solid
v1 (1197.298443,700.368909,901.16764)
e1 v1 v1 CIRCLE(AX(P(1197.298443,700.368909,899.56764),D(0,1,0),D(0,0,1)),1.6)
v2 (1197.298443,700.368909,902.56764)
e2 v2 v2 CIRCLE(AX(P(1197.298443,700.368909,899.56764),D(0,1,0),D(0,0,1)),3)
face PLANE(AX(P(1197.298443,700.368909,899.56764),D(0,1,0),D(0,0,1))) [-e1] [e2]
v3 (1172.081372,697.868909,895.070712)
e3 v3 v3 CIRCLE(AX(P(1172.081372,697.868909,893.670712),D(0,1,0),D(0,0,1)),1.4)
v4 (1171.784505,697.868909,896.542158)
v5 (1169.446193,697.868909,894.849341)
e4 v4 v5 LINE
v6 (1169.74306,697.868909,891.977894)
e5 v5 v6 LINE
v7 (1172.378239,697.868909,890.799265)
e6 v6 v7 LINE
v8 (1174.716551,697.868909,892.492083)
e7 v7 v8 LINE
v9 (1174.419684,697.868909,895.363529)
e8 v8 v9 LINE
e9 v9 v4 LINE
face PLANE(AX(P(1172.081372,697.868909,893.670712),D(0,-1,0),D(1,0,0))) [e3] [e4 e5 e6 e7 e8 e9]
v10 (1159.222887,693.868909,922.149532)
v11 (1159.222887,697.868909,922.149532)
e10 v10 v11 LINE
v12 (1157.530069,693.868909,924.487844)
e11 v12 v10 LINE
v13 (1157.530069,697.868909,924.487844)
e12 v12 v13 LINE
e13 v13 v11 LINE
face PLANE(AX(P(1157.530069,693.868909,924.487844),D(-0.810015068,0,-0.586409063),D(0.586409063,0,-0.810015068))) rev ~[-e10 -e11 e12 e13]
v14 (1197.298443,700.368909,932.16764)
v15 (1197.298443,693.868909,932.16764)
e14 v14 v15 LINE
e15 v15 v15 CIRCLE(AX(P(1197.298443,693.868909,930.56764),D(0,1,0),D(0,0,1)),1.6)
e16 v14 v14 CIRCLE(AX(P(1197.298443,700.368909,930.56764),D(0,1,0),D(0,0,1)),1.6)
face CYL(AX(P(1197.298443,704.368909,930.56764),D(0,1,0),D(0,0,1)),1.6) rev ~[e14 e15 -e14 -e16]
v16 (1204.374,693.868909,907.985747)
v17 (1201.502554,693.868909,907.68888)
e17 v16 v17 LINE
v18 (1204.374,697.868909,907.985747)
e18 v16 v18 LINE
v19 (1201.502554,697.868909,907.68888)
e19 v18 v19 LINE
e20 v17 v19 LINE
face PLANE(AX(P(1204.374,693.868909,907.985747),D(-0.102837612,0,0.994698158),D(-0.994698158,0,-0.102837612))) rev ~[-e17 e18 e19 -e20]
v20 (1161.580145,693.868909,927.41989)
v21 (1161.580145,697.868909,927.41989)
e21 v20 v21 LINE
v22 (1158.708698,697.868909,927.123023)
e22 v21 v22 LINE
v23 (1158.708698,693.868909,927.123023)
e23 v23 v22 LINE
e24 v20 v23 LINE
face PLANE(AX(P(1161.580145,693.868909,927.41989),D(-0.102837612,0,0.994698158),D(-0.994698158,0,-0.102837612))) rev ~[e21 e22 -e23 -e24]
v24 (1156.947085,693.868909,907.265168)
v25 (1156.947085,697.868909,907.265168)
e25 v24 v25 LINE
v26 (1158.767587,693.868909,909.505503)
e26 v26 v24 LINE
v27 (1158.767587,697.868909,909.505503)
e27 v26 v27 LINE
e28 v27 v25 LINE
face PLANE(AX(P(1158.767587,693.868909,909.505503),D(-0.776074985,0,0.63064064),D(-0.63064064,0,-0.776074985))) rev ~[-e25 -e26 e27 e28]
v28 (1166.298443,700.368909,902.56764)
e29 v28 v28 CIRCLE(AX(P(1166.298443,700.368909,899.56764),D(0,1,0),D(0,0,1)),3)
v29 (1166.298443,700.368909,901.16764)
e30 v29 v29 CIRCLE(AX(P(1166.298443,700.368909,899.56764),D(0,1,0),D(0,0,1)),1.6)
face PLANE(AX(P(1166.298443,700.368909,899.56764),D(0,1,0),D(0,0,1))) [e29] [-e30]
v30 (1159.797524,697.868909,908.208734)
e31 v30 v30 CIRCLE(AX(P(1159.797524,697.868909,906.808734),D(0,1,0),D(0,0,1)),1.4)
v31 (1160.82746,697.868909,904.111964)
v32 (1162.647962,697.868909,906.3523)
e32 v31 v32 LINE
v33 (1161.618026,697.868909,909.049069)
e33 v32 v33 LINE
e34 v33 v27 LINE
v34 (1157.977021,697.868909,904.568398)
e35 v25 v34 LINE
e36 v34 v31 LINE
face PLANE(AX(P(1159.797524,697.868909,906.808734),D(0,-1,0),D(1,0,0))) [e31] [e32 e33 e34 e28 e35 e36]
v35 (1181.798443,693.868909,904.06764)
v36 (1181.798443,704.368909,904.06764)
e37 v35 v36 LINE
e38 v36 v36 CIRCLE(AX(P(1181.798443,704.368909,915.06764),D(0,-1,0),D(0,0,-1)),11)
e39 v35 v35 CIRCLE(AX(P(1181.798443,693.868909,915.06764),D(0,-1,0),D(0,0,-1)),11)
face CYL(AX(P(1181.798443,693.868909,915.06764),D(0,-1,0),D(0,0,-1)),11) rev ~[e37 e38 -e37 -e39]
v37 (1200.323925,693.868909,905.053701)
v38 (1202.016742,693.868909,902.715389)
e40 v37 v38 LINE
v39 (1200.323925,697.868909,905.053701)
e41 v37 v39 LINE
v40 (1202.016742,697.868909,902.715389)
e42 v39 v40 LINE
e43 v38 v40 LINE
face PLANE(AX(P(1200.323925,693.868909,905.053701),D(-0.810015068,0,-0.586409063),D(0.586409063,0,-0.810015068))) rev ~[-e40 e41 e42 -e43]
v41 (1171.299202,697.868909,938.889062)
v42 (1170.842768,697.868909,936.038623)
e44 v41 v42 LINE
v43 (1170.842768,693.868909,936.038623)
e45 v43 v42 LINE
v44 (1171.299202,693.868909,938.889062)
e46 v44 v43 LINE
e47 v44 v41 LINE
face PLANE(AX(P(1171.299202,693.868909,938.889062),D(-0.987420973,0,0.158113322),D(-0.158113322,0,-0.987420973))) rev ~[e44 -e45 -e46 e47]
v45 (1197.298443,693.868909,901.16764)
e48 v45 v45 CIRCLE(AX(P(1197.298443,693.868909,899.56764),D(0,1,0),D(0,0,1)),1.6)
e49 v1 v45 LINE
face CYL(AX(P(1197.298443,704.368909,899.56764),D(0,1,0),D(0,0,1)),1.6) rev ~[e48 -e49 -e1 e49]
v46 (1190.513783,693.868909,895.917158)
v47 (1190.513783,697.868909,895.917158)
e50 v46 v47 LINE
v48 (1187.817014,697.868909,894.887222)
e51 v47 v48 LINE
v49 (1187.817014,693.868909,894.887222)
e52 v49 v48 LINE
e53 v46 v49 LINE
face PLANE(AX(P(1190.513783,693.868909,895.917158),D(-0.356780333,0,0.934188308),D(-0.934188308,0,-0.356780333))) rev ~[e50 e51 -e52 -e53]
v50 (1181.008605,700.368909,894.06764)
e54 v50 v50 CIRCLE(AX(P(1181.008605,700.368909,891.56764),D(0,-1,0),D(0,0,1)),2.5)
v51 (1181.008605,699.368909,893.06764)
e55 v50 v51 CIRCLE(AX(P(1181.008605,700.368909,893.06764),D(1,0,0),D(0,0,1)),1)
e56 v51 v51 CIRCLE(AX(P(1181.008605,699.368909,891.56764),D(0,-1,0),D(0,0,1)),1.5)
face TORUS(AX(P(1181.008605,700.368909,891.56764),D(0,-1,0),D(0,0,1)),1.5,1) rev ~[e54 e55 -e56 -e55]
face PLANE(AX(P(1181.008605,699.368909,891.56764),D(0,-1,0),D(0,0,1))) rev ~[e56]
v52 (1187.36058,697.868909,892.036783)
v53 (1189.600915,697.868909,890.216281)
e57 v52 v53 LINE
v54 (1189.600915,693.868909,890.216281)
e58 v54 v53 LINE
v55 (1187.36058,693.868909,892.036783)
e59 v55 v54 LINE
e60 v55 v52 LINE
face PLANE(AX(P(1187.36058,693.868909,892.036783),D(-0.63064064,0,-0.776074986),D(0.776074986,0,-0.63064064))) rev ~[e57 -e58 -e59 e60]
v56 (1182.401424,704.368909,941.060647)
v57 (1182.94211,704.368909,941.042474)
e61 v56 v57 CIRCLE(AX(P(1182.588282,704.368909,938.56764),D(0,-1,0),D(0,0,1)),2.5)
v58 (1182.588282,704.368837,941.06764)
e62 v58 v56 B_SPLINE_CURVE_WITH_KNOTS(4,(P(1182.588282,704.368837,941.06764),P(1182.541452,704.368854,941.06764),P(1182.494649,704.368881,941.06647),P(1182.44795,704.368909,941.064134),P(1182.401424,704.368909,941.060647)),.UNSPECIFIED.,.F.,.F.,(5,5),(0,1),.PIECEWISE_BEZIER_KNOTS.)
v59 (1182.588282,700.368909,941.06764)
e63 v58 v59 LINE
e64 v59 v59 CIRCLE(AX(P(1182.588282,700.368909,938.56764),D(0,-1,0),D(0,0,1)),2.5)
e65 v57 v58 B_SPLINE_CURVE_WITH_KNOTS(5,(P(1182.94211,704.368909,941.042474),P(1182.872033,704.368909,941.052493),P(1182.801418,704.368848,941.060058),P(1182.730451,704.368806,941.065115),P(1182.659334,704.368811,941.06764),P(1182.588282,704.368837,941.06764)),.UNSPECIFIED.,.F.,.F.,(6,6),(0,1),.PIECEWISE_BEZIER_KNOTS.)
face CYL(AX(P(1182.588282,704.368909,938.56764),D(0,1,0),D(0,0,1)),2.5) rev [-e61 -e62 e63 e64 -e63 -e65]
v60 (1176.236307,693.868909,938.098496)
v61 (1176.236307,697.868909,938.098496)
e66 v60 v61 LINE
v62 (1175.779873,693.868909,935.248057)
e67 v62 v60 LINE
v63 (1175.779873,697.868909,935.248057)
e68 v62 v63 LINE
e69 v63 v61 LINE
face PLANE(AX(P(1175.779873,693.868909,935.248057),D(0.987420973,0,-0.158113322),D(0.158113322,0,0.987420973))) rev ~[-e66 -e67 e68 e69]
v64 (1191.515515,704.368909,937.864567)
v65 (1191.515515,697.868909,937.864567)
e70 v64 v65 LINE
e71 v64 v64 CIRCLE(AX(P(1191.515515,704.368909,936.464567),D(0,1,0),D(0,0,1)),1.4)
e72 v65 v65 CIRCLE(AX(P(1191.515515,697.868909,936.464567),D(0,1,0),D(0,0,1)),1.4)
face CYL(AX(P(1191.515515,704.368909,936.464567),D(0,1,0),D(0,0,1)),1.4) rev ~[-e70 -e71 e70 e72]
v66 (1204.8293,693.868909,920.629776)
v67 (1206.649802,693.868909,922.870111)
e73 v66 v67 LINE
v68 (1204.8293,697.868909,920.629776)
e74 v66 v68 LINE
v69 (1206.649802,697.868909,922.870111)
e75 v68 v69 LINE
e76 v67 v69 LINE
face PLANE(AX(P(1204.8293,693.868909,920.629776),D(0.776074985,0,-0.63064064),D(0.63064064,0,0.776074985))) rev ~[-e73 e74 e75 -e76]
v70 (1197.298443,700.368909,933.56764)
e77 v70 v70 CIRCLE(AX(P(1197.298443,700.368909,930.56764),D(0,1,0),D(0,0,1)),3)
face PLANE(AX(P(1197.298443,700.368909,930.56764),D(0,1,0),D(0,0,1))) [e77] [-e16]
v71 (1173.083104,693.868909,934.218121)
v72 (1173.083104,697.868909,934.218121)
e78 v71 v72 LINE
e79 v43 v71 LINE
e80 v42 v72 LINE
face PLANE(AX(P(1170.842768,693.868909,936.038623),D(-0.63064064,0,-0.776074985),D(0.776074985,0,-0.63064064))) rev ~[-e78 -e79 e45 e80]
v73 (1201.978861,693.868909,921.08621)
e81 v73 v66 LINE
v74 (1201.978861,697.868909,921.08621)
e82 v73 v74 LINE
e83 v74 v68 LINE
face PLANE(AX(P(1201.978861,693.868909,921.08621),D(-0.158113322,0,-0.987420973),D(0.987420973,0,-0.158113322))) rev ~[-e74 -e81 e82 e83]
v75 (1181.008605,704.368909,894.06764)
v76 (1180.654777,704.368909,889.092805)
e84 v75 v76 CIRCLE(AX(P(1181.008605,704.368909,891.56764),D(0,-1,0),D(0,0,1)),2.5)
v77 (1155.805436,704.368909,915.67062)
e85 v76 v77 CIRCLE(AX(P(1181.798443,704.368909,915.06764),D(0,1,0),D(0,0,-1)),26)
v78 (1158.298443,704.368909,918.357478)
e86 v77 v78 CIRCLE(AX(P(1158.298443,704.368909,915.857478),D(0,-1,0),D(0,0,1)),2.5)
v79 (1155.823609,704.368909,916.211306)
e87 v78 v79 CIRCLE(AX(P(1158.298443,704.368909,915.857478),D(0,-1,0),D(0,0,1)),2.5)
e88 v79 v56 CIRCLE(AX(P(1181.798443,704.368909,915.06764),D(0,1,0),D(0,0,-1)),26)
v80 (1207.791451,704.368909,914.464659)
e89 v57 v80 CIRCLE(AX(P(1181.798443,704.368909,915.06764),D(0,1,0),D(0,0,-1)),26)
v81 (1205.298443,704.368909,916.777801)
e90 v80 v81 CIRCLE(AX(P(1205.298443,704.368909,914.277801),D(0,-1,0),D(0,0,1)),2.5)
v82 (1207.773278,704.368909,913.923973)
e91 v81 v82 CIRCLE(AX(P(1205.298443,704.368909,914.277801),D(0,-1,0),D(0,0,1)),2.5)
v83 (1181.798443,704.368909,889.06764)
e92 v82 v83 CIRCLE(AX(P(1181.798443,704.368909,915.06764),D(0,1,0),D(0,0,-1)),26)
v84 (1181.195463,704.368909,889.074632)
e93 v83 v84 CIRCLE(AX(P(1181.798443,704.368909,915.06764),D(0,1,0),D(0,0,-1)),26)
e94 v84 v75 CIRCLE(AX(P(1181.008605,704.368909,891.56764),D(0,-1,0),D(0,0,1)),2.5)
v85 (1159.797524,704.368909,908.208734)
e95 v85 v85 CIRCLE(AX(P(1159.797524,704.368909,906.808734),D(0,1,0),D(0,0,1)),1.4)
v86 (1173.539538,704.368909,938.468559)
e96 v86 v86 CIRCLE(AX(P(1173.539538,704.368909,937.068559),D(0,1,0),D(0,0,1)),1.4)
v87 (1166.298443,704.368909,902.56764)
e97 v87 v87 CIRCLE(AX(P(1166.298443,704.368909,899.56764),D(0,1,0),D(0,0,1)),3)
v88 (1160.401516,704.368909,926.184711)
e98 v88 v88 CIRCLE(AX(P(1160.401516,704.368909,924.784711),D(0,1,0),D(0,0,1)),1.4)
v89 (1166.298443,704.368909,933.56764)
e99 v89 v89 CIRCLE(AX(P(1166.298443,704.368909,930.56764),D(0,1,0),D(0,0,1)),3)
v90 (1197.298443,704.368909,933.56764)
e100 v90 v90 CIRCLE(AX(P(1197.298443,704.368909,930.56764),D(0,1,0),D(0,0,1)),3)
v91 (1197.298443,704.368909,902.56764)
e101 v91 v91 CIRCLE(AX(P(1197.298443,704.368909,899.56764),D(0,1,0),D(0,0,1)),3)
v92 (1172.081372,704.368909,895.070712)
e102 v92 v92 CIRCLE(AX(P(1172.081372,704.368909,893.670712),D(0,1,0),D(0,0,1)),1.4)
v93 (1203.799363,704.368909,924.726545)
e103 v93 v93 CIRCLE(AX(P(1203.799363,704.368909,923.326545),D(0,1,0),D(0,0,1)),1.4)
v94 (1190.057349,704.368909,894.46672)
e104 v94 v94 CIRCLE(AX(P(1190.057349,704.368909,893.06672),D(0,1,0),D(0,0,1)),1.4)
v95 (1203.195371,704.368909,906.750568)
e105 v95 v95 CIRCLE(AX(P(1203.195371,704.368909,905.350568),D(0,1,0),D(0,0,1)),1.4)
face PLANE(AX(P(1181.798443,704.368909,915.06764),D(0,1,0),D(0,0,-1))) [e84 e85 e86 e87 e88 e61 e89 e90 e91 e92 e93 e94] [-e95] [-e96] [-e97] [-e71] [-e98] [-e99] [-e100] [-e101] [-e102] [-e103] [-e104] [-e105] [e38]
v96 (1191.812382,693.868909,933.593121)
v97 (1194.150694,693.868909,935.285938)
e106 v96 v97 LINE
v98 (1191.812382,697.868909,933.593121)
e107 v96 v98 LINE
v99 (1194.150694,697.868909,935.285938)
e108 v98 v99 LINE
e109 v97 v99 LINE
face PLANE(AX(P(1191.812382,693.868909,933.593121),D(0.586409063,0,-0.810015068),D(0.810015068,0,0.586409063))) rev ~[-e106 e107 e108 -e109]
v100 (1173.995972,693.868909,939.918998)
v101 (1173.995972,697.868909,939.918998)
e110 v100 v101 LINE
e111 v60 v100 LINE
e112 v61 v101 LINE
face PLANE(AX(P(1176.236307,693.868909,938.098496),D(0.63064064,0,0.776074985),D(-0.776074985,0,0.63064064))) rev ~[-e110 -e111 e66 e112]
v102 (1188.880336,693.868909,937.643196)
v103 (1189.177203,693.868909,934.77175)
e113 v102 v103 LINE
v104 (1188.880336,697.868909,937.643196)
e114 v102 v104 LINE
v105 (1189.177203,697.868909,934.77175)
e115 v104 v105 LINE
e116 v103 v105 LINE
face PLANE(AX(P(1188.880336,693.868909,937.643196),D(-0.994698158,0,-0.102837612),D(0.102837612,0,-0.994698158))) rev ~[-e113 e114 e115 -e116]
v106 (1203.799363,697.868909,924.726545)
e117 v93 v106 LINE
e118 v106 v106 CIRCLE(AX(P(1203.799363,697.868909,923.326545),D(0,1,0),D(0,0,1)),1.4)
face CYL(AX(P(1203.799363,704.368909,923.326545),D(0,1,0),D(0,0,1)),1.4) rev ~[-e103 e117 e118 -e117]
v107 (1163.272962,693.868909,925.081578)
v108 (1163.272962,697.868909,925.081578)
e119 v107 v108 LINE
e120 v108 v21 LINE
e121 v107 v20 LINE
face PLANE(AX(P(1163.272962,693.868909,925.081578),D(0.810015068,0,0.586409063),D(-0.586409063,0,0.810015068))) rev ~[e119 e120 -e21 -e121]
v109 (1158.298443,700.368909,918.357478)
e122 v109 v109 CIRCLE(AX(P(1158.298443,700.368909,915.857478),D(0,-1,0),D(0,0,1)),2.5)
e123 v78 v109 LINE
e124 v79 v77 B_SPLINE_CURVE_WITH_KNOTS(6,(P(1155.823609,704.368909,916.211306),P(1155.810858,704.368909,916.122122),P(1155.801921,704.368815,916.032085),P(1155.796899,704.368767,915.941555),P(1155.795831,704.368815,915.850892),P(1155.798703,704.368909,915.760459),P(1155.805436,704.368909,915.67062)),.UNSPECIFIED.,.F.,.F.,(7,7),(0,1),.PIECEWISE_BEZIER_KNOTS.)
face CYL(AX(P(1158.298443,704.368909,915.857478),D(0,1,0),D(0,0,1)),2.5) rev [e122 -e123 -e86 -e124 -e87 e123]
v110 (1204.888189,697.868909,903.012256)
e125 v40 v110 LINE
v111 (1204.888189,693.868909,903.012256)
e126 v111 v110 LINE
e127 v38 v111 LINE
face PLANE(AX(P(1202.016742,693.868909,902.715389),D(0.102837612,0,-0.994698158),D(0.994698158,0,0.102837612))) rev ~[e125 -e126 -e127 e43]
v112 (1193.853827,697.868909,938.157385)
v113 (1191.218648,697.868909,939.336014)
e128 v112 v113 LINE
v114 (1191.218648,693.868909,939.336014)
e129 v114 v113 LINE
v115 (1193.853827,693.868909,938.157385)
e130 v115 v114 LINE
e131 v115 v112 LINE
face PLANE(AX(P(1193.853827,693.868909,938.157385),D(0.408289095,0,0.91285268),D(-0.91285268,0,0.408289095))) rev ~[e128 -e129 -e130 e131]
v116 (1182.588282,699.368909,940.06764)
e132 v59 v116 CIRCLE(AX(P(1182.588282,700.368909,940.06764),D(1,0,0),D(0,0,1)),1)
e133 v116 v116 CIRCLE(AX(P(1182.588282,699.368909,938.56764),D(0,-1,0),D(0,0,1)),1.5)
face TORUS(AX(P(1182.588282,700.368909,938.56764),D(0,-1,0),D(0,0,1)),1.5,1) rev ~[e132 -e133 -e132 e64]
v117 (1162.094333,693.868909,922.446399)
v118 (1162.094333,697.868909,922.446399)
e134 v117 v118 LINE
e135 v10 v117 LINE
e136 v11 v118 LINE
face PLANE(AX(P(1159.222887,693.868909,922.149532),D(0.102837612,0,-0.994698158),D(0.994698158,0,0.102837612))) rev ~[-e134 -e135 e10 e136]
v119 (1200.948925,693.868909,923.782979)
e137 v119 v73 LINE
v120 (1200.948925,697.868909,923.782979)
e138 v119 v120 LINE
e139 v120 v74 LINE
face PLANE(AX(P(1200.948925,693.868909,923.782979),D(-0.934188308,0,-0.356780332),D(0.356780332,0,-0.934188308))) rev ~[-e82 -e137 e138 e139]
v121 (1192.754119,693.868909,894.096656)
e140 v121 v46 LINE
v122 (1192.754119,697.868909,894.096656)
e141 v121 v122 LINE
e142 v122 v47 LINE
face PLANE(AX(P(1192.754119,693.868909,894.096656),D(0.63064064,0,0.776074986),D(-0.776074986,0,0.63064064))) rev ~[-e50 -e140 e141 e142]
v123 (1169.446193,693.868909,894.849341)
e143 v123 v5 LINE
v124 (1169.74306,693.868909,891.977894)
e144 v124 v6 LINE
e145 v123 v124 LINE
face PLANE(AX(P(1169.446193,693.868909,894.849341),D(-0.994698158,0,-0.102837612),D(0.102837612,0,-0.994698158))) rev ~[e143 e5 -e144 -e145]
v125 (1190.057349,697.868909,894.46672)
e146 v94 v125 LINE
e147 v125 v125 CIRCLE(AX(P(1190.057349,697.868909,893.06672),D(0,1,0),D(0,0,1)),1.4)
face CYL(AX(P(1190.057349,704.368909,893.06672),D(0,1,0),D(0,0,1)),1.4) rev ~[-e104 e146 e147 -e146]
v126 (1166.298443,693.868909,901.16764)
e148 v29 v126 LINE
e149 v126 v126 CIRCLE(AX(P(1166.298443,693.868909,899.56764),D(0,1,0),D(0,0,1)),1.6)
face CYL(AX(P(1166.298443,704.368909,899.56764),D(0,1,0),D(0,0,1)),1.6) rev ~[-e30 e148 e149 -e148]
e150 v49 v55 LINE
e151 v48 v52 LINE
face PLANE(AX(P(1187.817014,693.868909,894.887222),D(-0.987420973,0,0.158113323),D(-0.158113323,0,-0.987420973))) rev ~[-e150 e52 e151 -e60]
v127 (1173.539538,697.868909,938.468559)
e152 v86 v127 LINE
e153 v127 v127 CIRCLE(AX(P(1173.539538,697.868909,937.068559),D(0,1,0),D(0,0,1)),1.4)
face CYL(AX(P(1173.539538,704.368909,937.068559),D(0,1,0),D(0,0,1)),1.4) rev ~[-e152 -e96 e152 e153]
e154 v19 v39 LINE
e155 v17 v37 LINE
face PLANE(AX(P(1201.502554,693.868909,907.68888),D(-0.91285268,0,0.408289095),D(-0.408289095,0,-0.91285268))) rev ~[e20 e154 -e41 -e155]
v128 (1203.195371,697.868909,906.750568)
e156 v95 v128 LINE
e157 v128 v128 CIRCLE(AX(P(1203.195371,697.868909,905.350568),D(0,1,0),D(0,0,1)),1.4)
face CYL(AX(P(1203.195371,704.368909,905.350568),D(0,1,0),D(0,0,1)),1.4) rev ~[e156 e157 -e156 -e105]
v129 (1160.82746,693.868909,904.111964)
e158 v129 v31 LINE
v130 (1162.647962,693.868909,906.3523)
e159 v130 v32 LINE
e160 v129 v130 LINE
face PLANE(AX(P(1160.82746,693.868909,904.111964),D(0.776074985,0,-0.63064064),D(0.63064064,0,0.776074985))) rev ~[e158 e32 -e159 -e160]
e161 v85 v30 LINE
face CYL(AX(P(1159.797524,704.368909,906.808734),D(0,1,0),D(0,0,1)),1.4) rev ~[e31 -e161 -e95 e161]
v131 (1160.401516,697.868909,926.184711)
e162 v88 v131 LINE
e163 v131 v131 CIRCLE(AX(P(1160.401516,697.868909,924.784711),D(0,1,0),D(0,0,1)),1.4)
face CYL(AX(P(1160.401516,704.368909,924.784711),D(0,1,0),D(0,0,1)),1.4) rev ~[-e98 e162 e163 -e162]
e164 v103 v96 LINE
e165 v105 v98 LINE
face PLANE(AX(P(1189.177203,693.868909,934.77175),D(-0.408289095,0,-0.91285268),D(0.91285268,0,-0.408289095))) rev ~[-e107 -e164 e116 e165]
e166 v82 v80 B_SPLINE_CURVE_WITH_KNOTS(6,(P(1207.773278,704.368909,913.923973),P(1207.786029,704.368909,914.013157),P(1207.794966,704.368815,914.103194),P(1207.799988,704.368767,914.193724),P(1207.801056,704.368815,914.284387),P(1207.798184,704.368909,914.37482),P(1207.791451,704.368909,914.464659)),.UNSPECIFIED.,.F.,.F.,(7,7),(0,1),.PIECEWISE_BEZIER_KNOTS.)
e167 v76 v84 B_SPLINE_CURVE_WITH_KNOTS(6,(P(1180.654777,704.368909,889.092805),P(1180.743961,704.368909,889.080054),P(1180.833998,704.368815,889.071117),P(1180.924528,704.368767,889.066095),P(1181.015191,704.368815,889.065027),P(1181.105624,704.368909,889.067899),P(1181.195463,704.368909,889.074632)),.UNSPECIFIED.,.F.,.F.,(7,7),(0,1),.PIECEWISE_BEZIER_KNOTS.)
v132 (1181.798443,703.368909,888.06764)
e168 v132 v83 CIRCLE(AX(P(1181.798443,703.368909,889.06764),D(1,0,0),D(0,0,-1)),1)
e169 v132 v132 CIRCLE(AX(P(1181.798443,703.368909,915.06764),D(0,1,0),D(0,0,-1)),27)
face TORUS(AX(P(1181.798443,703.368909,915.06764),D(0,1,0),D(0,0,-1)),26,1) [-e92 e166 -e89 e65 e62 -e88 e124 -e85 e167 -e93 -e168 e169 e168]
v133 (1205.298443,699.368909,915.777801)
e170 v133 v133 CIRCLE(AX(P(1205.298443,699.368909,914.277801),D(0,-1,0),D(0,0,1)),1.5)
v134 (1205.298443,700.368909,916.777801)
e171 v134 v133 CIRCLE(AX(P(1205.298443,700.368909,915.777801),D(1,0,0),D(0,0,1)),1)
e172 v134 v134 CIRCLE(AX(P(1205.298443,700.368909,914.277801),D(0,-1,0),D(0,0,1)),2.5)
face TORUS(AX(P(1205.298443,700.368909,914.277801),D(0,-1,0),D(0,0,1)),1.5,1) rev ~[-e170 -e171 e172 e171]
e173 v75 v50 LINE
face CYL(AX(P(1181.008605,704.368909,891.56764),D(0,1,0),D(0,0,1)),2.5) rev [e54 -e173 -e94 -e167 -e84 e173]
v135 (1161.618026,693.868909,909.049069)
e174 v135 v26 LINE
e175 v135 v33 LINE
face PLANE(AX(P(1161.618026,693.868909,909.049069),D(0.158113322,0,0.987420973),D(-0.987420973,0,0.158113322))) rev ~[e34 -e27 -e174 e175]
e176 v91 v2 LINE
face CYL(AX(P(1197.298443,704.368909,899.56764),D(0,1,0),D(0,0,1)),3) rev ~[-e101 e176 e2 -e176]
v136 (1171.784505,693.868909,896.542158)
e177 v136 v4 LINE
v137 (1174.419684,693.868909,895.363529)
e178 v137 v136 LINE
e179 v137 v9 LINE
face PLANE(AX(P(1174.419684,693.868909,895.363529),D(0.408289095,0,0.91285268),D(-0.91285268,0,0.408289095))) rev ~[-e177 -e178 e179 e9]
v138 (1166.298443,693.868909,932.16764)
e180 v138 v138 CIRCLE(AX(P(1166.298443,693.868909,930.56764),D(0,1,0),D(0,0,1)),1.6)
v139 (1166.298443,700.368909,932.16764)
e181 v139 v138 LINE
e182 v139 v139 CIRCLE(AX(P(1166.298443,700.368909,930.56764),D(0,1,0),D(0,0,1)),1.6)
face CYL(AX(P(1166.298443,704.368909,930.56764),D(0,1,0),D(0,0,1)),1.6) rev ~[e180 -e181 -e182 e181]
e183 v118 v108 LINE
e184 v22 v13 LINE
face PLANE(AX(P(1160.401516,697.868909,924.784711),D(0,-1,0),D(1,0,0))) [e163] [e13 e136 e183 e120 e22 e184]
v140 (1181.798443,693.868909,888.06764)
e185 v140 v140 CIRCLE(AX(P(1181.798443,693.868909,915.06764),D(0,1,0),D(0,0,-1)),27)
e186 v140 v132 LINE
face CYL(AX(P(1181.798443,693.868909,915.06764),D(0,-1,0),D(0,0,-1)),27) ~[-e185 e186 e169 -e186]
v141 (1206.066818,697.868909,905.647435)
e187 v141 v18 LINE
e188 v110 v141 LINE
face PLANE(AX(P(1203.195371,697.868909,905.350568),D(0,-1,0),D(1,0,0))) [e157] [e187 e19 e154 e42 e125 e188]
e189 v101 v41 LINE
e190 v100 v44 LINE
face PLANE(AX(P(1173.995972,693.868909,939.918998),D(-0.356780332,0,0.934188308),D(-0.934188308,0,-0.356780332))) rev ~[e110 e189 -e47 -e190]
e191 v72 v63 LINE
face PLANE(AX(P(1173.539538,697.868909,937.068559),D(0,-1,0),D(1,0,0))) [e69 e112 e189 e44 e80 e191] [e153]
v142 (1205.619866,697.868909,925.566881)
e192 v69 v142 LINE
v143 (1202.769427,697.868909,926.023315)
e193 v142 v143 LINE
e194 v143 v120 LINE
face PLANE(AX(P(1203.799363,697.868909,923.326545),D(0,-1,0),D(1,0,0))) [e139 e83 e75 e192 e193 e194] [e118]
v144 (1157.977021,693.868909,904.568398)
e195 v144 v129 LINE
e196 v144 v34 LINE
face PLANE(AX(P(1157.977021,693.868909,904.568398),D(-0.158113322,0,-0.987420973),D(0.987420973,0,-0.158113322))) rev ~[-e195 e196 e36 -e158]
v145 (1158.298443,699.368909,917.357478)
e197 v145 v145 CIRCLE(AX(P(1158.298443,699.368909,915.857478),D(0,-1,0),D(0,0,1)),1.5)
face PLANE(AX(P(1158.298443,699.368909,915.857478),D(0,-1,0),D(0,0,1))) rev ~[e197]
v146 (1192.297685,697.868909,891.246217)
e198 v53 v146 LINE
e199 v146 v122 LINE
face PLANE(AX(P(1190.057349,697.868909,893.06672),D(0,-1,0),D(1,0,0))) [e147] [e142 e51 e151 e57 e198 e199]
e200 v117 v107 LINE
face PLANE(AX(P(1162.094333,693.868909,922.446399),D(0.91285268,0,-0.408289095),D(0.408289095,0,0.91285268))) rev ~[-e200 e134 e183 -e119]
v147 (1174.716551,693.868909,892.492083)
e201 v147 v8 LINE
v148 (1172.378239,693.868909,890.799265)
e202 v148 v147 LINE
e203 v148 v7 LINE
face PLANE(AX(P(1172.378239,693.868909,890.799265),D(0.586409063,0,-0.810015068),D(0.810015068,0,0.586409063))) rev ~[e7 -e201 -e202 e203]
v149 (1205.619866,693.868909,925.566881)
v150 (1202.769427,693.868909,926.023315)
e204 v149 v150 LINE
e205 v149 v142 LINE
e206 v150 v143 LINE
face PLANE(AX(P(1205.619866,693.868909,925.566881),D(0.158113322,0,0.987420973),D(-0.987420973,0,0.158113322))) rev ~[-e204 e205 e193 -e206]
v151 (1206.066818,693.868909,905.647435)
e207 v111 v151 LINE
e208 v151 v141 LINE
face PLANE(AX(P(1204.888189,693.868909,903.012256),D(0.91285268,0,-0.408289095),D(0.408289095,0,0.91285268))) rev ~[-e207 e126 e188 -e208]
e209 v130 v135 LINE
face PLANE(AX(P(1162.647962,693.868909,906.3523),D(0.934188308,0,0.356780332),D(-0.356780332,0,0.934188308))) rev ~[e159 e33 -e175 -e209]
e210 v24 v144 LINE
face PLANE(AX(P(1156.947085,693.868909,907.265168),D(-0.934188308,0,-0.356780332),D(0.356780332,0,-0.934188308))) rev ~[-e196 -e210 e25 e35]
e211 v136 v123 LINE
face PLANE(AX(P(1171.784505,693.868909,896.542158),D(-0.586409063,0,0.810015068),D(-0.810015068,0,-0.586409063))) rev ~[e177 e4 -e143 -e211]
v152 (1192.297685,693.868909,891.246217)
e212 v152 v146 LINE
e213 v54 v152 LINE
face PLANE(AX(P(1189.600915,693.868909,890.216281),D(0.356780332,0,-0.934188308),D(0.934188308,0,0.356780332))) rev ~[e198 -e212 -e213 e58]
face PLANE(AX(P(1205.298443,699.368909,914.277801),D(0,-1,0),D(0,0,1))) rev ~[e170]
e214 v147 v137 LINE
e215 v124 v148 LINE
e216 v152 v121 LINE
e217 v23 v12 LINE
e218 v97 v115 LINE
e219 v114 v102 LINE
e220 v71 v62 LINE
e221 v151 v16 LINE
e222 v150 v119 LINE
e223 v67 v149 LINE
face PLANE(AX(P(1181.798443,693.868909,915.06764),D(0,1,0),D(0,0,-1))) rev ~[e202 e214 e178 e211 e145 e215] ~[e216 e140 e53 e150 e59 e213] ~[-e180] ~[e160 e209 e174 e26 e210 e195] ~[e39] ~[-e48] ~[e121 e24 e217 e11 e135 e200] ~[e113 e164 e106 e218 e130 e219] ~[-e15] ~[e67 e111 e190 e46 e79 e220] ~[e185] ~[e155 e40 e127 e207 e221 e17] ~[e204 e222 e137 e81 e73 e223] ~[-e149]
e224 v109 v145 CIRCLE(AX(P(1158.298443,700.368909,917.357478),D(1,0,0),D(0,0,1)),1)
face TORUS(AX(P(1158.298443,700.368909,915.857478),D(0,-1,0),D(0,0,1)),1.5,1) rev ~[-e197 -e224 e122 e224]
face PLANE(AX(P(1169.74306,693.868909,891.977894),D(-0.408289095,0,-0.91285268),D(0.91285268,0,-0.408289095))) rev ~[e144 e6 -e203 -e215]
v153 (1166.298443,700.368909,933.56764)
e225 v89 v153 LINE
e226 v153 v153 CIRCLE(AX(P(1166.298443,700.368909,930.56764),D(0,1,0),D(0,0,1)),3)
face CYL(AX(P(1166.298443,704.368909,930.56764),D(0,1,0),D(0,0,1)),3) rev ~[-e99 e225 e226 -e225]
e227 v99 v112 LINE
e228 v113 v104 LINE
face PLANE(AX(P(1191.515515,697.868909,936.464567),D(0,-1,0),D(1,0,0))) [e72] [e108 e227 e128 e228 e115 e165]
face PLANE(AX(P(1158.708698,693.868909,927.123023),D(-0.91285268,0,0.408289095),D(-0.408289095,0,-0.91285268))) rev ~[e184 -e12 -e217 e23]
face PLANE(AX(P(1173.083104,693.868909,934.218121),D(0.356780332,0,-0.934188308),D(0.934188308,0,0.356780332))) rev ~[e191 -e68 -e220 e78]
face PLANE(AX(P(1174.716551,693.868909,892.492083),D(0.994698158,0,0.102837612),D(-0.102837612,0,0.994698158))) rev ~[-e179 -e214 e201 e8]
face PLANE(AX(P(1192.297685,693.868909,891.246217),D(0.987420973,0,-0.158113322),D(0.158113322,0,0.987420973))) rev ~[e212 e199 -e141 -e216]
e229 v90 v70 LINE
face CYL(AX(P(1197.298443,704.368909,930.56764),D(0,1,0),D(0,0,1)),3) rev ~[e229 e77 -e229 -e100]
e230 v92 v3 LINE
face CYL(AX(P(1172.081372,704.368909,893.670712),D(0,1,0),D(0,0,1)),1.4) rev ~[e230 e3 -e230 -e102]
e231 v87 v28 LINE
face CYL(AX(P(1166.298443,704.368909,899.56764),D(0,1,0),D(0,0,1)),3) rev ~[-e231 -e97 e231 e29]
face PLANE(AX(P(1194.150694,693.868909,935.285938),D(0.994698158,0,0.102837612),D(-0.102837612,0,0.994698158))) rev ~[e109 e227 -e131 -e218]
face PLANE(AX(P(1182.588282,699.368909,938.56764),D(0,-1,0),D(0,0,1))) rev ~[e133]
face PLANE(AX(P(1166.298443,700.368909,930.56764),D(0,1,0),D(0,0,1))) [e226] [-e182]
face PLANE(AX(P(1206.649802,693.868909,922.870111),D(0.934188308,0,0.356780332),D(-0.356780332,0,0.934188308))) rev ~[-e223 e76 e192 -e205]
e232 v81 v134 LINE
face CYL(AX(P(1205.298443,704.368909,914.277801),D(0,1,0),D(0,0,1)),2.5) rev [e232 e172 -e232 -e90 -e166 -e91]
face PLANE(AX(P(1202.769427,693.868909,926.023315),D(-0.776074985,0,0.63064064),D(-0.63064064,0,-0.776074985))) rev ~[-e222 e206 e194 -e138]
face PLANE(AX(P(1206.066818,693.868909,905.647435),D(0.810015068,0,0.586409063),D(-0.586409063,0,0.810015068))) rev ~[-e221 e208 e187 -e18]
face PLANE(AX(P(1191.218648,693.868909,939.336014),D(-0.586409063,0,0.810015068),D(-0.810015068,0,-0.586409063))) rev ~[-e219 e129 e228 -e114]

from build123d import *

# Parameters (mm, degrees)
SKETCH2_R                      = 27
BOSS_EXTRUDE1_DEPTH            = 10.5
SKETCH3_R                      = 1.6
NEMA_MOUNTS_HOLES_M3_DEPTH     = 10.5
SKETCH3_4_R                    = 3
NEMA_MOUNT_HOLES_CAP_6MM_DEPTH = 4
SKETCH5_R                      = 1.4
REDUCER_HOLES_M2_5_DEPTH       = 10.5
REDUCER_NUTS_M2_5_DEPTH        = 4
SKETCH9_R                      = 11
SHAFT_SKIRT_22MM_DEPTH         = 10.5
FILLET1_R                      = 1
CUT_EXTRUDE1_START             = -10.5
SKETCH10_R                     = 2.5
CUT_EXTRUDE1_DEPTH             = 5
FILLET3_R                      = 1


with BuildPart() as part:
    # Sketch2 → Boss-Extrude1 (new body)
    with BuildSketch(Plane(origin=(0, 693.868908512, 0), x_dir=(-1, 0, 0), z_dir=(0, 1, 0))):
        with Locations(Location((-1181.798443484, 915.067639521, 0), (0, 0, 270))):
            Circle(SKETCH2_R)
    extrude(amount=BOSS_EXTRUDE1_DEPTH)

    # Sketch3 → Nema_Mounts_holes_M3 (cut)
    with BuildSketch(Plane(origin=(0, 704.368908512, 0), x_dir=(-1, 0, 0), z_dir=(0, 1, 0))):
        with Locations(Location((-1197.298443484, 930.567639521, 0), (0, 0, 90))):
            Circle(SKETCH3_R)
        with Locations(Location((-1166.298443484, 930.567639521, 0), (0, 0, 90))):
            Circle(SKETCH3_R)
        with Locations(Location((-1197.298443484, 899.567639521, 0), (0, 0, 90))):
            Circle(SKETCH3_R)
        with Locations(Location((-1166.298443484, 899.567639521, 0), (0, 0, 90))):
            Circle(SKETCH3_R)
    extrude(amount=-NEMA_MOUNTS_HOLES_M3_DEPTH, mode=Mode.SUBTRACT)

    # Sketch3<4> → Nema_Mount_holes_cap_6mm (cut)
    with BuildSketch(Plane(origin=(0, 704.368908512, 0), x_dir=(-1, 0, 0), z_dir=(0, 1, 0))):
        with Locations(Location((-1197.298443484, 930.567639521, 0), (0, 0, 90))):
            Circle(SKETCH3_4_R)
        with Locations(Location((-1166.298443484, 930.567639521, 0), (0, 0, 90))):
            Circle(SKETCH3_4_R)
        with Locations(Location((-1197.298443484, 899.567639521, 0), (0, 0, 90))):
            Circle(SKETCH3_4_R)
        with Locations(Location((-1166.298443484, 899.567639521, 0), (0, 0, 90))):
            Circle(SKETCH3_4_R)
    extrude(amount=-NEMA_MOUNT_HOLES_CAP_6MM_DEPTH, mode=Mode.SUBTRACT)

    # Sketch5 → Reducer_Holes_M2.5 (cut)
    with BuildSketch(Plane(origin=(0, 704.368908512, 0), x_dir=(-1, 0, 0), z_dir=(0, 1, 0))):
        with Locations(Location((-1160.401515615, 924.78471098, 0), (0, 0, 90))):
            Circle(SKETCH5_R)
        with Locations(Location((-1159.797523569, 906.80873385, 0), (0, 0, 90))):
            Circle(SKETCH5_R)
        with Locations(Location((-1172.081372025, 893.670711651, 0), (0, 0, 90))):
            Circle(SKETCH5_R)
        with Locations(Location((-1190.057349155, 893.066719605, 0), (0, 0, 90))):
            Circle(SKETCH5_R)
        with Locations(Location((-1203.195371354, 905.350568061, 0), (0, 0, 90))):
            Circle(SKETCH5_R)
        with Locations(Location((-1203.7993634, 923.326545192, 0), (0, 0, 90))):
            Circle(SKETCH5_R)
        with Locations(Location((-1191.515514944, 936.46456739, 0), (0, 0, 90))):
            Circle(SKETCH5_R)
        with Locations(Location((-1173.539537814, 937.068559436, 0), (0, 0, 90))):
            Circle(SKETCH5_R)
    extrude(amount=-REDUCER_HOLES_M2_5_DEPTH, mode=Mode.SUBTRACT)

    # Sketch6 → Reducer_Nuts_M2.5 (cut)
    with BuildSketch(Plane.XZ.offset(-693.868908512)):
        Polygon((1176.236307168, 938.098495541), (1173.99597166, 939.918998258), (1171.299202305, 938.889062153), (1170.842768459, 936.038623331), (1173.083103967, 934.218120614), (1175.779873322, 935.248056719), align=None)
        Polygon((1162.094332768, 922.446398892), (1163.272961862, 925.081577594), (1161.580144709, 927.419889682), (1158.708698462, 927.123023068), (1157.530069368, 924.487844366), (1159.222886521, 922.149532278), align=None)
        Polygon((1194.150693646, 935.285938296), (1193.853827032, 938.157384543), (1191.21864833, 939.336013637), (1188.880336242, 937.643196484), (1189.177202856, 934.771750238), (1191.812381558, 933.593121144), align=None)
        Polygon((1204.829299505, 920.629775837), (1206.649802222, 922.870111345), (1205.619866117, 925.5668807), (1202.769427295, 926.023314546), (1200.948924578, 923.782979038), (1201.978860683, 921.086209683), align=None)
        Polygon((1202.01674226, 902.715389359), (1204.888188506, 903.012255973), (1206.0668176, 905.647434675), (1204.374000448, 907.985746763), (1201.502554201, 907.688880149), (1200.323925107, 905.053701447), align=None)
        Polygon((1187.3605798, 892.0367835), (1189.600915309, 890.216280784), (1192.297684664, 891.246216889), (1192.75411851, 894.096655711), (1190.513783001, 895.917158427), (1187.817013647, 894.887222322), align=None)
        Polygon((1169.446193323, 894.849340745), (1169.743059937, 891.977894499), (1172.378238639, 890.799265405), (1174.716550727, 892.492082557), (1174.419684113, 895.363528804), (1171.784505411, 896.542157898), align=None)
        Polygon((1158.767587464, 909.505503205), (1156.947084747, 907.265167696), (1157.977020852, 904.568398341), (1160.827459674, 904.111964495), (1162.647962391, 906.352300004), (1161.618026286, 909.049069359), align=None)
    extrude(amount=-REDUCER_NUTS_M2_5_DEPTH, mode=Mode.SUBTRACT)

    # Sketch9 → Shaft_skirt_22mm (cut)
    with BuildSketch(Plane(origin=(0, 693.868908512, 0), x_dir=(-1, 0, 0), z_dir=(0, -1, 0))):
        with Locations(Location((-1181.798443484, -915.067639521, 0), (0, 0, 90))):
            Circle(SKETCH9_R)
    extrude(amount=-SHAFT_SKIRT_22MM_DEPTH, mode=Mode.SUBTRACT)

    # Fillet1
    fillet1_edges = [part.edges().sort_by_distance(p)[0] for p in [
        (1181.798443484, 704.368908512, 942.067639521),
    ]]
    fillet(fillet1_edges, radius=FILLET1_R)

    # Sketch10 → Cut-Extrude1 (cut)
    with BuildSketch(Plane.XZ.offset(-693.868908512).offset(CUT_EXTRUDE1_START)):
        with Locations(Location((1182.58828203, 938.567639521, 0), (0, 0, 90))):
            Circle(SKETCH10_R)
        with Locations(Location((1205.298443484, 914.277800975, 0), (0, 0, 90))):
            Circle(SKETCH10_R)
        with Locations(Location((1181.008604939, 891.567639521, 0), (0, 0, 90))):
            Circle(SKETCH10_R)
        with Locations(Location((1158.298443484, 915.857478067, 0), (0, 0, 90))):
            Circle(SKETCH10_R)
    extrude(amount=CUT_EXTRUDE1_DEPTH, mode=Mode.SUBTRACT)

    # Fillet3
    fillet3_edges = [part.edges().sort_by_distance(p)[0] for p in [
        (1182.58828203, 699.368908512, 936.067639521),
        (1205.298443484, 699.368908512, 911.777800975),
        (1181.008604939, 699.368908512, 889.067639521),
        (1158.298443484, 699.368908512, 913.357478067),
    ]]
    fillet(fillet3_edges, radius=FILLET3_R)


solid = part.part
